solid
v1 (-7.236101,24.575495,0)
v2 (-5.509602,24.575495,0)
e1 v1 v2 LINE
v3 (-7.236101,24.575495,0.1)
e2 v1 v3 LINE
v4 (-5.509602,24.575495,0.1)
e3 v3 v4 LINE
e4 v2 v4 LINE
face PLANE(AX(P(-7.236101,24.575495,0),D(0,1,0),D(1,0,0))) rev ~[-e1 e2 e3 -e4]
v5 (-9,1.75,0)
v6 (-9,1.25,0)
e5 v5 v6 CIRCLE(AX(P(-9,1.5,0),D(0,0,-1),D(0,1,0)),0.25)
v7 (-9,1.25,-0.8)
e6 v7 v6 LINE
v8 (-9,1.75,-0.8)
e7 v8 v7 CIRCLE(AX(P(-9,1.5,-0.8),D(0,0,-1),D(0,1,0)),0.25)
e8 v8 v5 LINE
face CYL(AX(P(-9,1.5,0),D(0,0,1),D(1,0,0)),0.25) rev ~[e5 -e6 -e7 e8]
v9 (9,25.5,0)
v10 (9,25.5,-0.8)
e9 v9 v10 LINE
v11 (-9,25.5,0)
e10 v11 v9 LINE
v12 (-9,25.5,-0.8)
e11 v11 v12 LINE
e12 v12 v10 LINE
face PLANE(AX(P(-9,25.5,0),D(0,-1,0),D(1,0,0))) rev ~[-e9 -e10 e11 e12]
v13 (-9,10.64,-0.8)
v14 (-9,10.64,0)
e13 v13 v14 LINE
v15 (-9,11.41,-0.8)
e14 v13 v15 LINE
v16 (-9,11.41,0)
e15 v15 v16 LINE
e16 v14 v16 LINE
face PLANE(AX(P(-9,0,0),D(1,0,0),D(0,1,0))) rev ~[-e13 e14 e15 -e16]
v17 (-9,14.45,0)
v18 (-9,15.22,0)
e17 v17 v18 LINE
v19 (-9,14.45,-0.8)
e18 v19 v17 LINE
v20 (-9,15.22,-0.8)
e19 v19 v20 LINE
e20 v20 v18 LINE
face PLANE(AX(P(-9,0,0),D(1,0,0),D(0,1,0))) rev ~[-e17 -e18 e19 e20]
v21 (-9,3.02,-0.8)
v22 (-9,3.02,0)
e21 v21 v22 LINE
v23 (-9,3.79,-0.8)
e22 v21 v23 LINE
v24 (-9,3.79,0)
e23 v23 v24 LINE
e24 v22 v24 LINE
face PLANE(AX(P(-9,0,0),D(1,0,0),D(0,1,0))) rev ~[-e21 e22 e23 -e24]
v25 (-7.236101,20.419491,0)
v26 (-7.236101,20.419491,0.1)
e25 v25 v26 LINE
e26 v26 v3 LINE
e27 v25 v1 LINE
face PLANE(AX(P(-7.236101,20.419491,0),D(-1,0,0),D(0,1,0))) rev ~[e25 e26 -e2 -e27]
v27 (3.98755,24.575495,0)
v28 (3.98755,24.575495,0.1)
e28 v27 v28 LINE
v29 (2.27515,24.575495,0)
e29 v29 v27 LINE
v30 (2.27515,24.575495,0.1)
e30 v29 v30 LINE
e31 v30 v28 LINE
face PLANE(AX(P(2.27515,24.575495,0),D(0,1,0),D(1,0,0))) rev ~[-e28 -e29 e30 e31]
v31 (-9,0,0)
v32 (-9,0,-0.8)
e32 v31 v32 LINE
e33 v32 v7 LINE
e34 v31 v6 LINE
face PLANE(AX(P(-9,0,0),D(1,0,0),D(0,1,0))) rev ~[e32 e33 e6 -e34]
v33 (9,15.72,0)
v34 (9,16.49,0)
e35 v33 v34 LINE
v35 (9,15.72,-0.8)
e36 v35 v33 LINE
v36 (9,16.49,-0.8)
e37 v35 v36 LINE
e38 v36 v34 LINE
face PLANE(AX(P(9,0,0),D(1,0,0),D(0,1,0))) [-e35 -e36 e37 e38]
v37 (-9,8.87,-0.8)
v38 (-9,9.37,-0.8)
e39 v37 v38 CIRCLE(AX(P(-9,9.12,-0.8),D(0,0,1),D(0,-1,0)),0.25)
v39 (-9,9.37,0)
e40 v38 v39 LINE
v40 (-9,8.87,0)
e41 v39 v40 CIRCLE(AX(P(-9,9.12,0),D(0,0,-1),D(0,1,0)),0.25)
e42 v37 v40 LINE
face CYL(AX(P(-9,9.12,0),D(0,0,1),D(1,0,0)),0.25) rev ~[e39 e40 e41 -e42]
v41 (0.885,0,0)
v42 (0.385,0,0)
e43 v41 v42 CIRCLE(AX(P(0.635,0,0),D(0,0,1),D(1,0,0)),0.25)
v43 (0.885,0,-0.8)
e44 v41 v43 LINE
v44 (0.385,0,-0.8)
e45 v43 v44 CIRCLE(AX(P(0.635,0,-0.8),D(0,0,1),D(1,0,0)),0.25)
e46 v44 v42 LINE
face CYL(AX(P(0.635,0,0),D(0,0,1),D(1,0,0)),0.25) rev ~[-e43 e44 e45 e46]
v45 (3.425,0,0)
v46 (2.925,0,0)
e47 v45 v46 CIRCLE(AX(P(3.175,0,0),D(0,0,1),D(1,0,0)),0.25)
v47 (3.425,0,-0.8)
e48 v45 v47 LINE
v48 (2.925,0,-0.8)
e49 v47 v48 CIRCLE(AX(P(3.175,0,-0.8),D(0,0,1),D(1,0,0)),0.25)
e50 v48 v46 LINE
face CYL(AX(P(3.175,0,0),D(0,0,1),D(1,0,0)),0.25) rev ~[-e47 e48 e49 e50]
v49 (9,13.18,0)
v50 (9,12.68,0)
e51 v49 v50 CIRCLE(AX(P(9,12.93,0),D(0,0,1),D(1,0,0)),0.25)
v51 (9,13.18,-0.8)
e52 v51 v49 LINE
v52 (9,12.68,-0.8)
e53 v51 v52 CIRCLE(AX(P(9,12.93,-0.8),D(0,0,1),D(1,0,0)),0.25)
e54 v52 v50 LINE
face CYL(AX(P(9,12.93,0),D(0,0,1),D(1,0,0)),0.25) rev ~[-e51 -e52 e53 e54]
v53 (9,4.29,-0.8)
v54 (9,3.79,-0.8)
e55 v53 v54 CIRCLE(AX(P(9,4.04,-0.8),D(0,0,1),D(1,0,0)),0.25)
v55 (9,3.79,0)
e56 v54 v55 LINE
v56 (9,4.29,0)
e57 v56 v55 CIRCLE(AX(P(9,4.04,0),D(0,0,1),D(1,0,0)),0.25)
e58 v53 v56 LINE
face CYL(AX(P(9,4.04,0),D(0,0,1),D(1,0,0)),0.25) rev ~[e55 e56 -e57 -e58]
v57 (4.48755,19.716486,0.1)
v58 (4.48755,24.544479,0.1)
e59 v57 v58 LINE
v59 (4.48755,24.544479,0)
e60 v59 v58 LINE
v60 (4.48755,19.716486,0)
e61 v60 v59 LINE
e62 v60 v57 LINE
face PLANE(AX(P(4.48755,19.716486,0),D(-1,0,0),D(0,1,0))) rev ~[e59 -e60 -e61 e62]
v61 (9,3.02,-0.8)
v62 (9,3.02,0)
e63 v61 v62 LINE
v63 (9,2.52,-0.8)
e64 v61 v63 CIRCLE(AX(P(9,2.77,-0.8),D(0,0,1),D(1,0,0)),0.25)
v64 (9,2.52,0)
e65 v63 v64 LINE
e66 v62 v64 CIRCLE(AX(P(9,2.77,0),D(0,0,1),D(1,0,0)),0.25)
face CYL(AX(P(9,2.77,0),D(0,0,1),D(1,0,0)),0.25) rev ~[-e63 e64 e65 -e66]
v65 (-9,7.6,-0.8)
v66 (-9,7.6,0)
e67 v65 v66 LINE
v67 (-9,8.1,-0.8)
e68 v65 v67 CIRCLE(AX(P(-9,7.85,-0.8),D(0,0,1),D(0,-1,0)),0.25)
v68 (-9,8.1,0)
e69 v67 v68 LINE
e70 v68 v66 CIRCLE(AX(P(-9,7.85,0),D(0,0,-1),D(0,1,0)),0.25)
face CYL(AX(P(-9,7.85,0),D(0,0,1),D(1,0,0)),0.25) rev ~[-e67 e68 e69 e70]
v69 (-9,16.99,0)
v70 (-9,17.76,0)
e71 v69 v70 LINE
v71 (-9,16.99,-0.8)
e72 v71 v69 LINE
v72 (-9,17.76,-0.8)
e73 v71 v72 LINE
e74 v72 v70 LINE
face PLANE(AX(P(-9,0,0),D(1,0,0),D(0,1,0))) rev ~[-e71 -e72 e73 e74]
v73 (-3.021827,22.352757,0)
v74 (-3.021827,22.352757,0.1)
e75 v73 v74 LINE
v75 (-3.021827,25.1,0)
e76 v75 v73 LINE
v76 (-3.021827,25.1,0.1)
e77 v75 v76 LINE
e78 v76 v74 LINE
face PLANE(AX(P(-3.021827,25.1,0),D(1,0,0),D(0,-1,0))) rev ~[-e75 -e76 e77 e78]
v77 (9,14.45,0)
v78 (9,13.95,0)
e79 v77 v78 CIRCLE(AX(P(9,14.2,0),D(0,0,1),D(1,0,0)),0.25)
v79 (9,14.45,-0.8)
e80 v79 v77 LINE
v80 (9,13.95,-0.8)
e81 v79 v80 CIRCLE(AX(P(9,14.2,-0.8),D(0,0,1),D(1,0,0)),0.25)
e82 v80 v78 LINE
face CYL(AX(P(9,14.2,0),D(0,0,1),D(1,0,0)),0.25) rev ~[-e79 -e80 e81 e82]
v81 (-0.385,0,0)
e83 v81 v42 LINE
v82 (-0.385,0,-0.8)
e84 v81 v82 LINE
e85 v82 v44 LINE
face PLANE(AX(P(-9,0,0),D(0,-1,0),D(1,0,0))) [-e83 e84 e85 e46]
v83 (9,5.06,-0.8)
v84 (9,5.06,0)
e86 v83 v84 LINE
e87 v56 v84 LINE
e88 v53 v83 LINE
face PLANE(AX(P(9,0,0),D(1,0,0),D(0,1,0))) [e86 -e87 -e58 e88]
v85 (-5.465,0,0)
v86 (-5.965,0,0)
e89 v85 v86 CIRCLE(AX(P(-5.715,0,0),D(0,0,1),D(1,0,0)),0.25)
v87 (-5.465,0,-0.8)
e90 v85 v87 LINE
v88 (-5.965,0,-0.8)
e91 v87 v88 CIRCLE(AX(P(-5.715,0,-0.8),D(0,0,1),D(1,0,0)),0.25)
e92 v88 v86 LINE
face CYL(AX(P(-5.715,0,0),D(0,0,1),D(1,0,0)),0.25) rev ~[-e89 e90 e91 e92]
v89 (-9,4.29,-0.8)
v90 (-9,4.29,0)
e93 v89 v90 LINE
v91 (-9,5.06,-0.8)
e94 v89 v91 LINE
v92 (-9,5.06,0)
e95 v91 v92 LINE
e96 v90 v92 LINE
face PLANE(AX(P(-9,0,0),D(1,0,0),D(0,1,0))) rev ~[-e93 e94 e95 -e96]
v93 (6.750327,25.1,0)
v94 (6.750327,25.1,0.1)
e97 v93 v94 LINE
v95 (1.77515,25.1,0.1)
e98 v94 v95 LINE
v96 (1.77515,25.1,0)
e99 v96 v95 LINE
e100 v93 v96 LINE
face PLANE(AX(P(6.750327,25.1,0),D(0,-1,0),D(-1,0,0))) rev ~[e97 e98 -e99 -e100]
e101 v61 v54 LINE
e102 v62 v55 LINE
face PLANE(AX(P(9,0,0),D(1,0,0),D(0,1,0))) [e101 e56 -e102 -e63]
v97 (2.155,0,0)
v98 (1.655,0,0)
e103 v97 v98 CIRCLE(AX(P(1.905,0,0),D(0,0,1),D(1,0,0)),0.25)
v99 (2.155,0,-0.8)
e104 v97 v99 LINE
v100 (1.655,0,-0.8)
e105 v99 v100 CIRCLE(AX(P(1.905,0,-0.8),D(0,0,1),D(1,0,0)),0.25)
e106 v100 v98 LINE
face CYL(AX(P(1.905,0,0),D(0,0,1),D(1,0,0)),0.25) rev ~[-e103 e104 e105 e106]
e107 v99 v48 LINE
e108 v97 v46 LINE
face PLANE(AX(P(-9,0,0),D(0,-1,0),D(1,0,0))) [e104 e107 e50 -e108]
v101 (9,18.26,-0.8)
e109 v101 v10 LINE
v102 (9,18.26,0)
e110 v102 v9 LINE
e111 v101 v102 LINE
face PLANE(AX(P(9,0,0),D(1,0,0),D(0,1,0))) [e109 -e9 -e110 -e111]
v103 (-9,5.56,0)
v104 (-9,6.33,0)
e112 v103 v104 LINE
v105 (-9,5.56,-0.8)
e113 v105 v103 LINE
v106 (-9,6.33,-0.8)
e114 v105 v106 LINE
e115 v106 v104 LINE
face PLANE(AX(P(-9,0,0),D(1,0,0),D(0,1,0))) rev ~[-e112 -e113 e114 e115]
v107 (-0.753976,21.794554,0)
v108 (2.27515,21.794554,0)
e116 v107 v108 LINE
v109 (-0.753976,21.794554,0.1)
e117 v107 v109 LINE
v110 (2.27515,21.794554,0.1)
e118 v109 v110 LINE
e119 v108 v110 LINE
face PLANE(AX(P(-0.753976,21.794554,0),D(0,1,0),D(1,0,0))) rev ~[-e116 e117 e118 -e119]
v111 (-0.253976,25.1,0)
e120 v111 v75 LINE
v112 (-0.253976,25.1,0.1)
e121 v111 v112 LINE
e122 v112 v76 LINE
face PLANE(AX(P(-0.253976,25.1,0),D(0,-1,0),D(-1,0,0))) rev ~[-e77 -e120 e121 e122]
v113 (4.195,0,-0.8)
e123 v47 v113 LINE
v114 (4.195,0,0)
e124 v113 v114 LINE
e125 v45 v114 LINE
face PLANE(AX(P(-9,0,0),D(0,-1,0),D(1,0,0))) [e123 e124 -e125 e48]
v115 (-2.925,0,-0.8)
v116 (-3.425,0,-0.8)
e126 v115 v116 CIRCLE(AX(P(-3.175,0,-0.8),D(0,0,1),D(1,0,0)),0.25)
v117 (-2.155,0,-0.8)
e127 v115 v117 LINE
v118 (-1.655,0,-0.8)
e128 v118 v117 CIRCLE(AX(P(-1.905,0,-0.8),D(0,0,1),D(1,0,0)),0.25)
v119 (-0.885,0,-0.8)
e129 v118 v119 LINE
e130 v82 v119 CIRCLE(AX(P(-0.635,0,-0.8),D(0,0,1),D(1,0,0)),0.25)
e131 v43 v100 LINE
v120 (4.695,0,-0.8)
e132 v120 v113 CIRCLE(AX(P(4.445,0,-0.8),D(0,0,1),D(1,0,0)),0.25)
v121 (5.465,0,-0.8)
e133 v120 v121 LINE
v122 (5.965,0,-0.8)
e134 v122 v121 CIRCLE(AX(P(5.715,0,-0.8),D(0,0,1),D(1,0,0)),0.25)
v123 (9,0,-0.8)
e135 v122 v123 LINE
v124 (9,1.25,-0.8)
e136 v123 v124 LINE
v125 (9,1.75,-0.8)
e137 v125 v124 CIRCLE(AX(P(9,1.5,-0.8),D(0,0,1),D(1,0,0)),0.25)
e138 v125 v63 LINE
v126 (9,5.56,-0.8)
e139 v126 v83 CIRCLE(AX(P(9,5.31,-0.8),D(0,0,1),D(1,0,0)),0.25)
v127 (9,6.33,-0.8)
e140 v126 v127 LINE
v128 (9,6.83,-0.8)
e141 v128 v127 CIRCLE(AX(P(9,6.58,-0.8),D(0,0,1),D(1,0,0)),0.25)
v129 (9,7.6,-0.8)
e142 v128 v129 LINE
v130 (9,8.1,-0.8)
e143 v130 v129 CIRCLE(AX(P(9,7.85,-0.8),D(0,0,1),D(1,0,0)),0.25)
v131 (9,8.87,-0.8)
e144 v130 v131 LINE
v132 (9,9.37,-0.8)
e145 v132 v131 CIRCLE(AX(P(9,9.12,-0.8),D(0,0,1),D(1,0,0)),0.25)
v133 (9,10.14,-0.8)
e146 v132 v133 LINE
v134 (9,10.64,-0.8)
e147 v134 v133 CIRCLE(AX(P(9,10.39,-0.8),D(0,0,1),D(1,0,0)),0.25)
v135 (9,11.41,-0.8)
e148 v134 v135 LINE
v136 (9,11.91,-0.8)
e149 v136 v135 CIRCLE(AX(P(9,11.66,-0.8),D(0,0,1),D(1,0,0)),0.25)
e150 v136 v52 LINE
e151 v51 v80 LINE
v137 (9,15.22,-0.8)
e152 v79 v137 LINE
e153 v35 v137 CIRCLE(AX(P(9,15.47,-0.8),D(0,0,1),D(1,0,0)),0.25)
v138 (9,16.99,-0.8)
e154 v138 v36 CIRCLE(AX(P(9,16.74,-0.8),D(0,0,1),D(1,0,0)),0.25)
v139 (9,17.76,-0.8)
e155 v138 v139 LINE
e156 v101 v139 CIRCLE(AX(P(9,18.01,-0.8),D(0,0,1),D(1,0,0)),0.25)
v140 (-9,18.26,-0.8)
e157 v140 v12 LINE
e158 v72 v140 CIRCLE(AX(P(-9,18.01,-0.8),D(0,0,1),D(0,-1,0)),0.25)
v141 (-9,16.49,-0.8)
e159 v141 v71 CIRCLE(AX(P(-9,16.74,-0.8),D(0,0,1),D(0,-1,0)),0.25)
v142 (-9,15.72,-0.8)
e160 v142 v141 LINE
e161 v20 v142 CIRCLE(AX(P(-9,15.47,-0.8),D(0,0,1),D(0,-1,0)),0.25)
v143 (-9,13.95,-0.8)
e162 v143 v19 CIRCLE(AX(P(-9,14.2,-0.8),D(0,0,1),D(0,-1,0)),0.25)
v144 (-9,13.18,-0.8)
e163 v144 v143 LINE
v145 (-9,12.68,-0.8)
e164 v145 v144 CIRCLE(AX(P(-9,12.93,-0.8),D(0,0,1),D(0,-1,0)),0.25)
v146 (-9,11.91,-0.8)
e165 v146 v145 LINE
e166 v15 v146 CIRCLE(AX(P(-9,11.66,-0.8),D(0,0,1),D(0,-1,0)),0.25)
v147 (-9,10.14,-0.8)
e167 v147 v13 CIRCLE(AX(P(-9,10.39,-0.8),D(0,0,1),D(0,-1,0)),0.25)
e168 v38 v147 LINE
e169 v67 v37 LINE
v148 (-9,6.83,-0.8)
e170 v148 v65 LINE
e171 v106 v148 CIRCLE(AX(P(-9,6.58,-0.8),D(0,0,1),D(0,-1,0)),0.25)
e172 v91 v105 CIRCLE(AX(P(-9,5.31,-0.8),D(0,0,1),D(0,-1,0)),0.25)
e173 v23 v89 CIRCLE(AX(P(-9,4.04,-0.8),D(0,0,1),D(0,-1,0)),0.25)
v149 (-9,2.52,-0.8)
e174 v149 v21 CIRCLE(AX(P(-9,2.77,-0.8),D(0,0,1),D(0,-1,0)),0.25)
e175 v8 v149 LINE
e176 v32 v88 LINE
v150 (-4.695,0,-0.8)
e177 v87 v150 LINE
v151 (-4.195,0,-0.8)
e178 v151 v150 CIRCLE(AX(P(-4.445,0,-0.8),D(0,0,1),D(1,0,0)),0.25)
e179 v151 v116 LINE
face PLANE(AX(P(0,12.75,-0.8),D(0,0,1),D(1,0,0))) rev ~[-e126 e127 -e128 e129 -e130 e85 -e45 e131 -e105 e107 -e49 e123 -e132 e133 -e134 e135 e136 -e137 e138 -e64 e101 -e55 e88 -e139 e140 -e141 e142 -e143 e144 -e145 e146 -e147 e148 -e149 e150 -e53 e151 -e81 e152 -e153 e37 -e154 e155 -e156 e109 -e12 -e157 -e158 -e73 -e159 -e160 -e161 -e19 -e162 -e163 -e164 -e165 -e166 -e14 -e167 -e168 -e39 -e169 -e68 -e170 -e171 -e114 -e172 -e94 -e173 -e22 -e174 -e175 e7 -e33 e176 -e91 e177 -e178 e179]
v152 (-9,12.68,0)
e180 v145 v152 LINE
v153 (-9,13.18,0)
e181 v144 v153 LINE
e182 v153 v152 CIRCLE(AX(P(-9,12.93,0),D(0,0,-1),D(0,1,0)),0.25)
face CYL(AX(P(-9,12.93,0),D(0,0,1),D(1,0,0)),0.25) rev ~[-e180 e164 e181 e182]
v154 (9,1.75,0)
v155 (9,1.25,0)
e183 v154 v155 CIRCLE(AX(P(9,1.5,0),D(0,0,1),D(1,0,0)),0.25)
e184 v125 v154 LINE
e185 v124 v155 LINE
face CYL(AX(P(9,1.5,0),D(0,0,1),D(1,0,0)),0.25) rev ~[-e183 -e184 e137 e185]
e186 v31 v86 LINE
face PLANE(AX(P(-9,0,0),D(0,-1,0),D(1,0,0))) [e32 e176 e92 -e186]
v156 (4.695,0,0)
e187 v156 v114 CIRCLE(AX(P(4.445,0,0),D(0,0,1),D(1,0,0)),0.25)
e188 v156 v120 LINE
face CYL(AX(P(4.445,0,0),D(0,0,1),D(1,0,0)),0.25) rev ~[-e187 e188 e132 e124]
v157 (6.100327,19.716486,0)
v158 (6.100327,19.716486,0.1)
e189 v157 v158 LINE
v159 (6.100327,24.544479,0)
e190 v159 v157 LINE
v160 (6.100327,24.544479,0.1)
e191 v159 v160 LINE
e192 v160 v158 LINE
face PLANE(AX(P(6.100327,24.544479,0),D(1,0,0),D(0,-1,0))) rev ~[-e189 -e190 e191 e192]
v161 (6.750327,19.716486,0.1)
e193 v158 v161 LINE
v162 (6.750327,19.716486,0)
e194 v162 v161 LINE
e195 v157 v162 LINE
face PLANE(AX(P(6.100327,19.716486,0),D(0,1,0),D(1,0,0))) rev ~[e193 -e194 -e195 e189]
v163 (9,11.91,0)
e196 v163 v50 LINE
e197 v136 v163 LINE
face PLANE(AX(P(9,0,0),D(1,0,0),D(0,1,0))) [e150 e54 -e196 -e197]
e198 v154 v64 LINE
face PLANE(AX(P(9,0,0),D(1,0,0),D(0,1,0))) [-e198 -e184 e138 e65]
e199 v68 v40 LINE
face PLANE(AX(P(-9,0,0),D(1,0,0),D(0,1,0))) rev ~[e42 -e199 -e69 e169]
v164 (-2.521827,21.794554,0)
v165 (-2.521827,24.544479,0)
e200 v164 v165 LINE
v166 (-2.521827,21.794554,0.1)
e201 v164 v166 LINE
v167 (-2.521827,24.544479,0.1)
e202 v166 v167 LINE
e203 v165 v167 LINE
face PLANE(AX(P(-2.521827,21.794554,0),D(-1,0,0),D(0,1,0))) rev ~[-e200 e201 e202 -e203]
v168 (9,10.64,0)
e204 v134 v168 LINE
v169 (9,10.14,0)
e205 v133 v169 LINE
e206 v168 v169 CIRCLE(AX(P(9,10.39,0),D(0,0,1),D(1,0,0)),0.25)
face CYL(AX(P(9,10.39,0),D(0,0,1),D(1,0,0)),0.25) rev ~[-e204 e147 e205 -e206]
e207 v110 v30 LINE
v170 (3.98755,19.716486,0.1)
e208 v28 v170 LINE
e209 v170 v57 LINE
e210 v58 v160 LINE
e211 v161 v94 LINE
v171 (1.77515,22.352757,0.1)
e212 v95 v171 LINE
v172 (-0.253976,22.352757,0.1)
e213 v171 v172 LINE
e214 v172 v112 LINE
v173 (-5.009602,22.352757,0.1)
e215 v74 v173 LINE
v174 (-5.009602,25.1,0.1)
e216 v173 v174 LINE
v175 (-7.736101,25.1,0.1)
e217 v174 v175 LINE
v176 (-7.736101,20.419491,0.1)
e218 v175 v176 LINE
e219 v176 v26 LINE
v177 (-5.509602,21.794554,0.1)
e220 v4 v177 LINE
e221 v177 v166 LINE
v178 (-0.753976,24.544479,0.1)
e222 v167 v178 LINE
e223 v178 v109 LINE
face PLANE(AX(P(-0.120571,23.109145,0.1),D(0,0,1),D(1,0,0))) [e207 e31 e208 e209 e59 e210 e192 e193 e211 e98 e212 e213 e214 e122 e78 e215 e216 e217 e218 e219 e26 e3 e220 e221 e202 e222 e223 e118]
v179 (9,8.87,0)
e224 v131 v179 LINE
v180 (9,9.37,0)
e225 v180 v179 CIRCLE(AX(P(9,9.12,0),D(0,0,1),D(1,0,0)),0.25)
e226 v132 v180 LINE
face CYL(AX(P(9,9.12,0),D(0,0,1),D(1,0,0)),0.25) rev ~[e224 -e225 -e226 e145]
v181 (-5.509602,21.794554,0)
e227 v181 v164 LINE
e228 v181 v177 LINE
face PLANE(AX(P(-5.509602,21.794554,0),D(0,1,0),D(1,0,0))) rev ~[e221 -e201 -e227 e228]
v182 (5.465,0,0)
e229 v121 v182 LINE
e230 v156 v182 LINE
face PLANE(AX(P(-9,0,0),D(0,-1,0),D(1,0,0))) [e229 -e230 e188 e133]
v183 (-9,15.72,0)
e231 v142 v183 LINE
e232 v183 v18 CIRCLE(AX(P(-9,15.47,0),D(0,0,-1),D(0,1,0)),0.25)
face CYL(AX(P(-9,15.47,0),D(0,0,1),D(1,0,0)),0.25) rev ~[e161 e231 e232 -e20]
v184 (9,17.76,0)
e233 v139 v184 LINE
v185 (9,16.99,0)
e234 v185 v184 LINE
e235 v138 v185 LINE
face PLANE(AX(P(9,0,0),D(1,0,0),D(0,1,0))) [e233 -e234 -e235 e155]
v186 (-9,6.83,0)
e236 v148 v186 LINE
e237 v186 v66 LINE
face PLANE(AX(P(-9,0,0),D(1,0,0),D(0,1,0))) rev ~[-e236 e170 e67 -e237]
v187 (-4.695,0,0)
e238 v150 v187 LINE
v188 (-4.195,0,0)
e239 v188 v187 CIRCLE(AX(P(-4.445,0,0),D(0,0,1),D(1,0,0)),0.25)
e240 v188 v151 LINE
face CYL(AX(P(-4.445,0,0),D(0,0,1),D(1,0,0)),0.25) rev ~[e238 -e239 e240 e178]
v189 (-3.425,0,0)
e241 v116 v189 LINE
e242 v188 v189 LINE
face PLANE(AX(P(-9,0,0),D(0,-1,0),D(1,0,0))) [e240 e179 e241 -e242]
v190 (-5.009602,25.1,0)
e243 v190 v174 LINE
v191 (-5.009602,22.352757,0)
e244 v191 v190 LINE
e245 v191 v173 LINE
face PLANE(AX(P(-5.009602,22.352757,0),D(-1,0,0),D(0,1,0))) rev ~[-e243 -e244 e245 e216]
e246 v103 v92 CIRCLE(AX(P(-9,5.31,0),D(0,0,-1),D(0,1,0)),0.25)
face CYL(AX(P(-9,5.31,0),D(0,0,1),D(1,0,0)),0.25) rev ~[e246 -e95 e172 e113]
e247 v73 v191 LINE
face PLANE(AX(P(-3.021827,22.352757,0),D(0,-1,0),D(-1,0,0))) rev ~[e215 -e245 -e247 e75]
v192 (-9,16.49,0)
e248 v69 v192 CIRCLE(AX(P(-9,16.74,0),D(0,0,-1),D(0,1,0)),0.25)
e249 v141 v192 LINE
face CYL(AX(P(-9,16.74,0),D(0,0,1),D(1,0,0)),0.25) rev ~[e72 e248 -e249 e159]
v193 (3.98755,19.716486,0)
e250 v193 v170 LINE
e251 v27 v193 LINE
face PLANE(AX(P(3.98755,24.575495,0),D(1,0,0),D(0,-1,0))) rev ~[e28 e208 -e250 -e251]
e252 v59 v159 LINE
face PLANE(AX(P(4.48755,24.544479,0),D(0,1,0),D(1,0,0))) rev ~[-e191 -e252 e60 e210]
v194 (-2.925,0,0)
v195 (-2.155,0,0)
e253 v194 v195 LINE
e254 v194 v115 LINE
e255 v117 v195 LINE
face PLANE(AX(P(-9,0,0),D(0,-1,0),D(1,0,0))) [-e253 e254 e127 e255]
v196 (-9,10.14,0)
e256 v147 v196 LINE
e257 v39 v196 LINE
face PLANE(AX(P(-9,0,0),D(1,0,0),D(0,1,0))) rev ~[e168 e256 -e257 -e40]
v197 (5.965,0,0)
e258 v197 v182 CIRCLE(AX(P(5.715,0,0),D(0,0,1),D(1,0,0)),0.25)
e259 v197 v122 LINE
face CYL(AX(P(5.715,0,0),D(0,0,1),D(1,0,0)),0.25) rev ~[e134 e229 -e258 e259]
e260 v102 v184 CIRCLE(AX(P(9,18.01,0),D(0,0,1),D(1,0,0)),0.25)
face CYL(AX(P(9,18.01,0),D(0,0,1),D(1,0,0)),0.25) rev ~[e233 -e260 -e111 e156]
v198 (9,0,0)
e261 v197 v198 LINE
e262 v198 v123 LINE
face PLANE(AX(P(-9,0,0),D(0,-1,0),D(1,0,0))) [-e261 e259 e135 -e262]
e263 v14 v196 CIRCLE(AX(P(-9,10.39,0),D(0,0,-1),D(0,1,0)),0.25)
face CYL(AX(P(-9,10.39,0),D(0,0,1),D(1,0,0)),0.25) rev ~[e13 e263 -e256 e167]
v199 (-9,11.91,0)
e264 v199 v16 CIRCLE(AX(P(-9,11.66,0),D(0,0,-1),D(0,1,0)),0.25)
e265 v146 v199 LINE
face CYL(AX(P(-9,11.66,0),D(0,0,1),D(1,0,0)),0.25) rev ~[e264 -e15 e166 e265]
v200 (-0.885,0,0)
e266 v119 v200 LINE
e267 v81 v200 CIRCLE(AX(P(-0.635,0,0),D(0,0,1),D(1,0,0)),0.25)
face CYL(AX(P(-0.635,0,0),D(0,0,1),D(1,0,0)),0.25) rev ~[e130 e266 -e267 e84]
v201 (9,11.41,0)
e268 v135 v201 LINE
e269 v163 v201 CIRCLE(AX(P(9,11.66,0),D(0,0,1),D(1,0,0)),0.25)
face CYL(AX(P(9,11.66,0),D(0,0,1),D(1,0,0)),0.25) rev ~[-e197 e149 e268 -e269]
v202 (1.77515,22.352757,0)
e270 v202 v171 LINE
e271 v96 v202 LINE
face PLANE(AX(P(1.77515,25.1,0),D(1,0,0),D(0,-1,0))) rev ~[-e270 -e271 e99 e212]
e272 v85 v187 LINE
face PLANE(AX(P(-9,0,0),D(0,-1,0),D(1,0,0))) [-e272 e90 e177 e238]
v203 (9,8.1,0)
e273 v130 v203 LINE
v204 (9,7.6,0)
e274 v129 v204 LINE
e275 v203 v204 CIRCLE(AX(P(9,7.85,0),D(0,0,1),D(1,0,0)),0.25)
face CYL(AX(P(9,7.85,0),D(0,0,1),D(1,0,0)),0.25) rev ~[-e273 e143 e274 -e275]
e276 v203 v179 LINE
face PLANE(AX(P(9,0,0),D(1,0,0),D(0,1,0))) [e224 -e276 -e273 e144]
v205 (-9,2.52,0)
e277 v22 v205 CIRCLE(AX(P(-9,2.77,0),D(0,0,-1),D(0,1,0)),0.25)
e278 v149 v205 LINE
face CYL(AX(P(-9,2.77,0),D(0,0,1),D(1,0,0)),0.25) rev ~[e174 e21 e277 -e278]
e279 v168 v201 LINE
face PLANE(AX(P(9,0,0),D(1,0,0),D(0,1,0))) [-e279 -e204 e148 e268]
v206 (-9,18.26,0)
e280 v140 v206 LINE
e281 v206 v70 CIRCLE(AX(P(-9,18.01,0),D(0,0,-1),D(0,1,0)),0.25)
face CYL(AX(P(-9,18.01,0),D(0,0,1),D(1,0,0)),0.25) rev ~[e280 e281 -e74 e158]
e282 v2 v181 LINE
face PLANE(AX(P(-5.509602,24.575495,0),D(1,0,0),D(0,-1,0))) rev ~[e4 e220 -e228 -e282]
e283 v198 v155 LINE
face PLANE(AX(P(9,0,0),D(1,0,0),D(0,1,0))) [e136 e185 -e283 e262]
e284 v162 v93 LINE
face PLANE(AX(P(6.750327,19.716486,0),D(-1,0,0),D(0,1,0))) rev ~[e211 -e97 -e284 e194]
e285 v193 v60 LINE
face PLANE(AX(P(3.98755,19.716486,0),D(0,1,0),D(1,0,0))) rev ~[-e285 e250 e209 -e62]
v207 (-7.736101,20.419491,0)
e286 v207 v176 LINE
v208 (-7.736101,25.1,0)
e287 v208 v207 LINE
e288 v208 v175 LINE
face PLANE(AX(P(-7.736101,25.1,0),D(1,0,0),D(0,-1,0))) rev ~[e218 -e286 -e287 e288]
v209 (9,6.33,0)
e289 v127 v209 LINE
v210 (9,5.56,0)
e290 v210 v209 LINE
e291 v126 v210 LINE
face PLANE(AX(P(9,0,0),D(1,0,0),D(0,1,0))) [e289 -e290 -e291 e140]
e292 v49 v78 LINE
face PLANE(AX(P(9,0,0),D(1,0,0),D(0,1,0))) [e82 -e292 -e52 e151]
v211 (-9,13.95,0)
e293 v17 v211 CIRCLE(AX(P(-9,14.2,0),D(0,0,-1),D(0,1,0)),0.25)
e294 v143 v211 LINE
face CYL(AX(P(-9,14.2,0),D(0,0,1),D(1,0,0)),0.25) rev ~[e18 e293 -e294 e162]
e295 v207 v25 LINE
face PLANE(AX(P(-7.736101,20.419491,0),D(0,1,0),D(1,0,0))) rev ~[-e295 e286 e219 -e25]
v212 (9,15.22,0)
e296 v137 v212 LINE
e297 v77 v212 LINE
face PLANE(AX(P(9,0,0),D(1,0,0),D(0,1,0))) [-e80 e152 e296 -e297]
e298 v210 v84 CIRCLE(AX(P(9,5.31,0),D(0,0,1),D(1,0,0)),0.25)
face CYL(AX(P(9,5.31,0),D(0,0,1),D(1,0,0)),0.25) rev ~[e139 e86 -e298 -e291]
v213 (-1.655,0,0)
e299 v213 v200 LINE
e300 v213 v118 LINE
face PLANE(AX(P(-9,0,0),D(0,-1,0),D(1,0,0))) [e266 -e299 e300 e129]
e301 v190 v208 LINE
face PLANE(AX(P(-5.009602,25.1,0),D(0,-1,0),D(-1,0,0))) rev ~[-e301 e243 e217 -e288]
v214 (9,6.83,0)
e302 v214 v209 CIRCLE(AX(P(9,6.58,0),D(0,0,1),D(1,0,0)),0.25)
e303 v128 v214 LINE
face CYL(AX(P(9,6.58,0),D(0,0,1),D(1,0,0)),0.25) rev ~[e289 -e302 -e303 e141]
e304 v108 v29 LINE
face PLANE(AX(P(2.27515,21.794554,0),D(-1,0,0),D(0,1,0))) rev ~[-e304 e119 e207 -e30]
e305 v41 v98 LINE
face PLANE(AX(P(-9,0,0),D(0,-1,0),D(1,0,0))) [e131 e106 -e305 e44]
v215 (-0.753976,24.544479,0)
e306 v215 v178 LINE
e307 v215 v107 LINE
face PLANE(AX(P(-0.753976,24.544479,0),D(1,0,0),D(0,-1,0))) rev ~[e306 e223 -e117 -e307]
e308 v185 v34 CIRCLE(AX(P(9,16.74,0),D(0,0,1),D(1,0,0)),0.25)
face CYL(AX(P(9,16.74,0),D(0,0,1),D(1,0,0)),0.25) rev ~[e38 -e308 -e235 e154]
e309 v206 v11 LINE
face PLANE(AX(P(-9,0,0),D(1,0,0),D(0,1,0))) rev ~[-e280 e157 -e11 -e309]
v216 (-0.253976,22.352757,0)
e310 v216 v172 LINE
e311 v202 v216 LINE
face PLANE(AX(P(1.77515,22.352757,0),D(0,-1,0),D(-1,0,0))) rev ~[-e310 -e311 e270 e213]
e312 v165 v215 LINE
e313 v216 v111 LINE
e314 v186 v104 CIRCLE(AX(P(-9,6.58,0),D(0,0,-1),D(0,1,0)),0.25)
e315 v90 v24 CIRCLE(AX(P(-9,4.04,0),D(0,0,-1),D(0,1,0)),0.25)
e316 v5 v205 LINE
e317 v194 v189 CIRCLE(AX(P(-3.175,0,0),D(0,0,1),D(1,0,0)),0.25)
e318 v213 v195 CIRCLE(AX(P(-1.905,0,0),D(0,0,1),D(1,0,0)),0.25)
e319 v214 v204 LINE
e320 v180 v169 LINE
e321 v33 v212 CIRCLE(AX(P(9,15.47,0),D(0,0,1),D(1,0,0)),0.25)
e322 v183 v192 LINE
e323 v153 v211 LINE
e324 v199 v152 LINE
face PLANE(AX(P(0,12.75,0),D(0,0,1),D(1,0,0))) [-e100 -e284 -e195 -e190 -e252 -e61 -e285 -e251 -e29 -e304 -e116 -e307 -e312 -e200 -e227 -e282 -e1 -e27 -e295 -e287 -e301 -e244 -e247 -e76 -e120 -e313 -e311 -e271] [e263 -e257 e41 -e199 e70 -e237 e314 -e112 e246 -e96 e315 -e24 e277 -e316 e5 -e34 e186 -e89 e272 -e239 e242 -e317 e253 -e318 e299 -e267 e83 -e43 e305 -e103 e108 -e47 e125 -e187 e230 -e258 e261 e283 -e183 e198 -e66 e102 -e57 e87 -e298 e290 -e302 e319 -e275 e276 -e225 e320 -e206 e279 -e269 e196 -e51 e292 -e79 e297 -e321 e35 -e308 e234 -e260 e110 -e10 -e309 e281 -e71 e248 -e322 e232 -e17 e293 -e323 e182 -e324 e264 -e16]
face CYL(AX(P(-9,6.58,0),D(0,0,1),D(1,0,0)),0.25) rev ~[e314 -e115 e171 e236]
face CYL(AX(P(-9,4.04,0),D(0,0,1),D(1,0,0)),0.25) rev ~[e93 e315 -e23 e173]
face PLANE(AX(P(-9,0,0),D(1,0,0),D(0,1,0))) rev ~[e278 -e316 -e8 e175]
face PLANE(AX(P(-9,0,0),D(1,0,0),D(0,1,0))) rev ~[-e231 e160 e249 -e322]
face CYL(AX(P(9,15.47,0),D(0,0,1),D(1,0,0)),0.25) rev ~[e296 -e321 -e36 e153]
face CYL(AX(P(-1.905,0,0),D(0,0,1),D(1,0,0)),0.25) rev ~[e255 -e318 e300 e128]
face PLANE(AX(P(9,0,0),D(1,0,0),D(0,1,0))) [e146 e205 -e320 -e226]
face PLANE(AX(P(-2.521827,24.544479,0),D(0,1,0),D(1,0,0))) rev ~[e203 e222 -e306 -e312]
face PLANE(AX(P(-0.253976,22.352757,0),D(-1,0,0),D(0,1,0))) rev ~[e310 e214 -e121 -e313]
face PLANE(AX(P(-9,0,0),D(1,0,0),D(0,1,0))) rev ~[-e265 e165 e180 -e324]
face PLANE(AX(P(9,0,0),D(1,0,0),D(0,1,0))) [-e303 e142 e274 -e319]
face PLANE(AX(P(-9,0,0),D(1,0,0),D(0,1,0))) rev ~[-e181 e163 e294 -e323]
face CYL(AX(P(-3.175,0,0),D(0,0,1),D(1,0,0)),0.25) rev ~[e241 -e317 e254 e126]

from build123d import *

# Parameters (mm, degrees)
SKETCH_W     = 18
SKETCH_H     = 25.5
PAD_DEPTH    = 0.8
SKETCH001_R  = 0.25
POCKET_DEPTH = 5
PAD001_DEPTH = 0.1


with BuildPart() as part:
    # Sketch → Pad (new body)
    with BuildSketch(Plane.XY):
        with Locations((0, 12.75)):
            Rectangle(SKETCH_W, SKETCH_H)
    extrude(amount=-PAD_DEPTH)

    # Sketch001 → Pocket (cut)
    with BuildSketch(Plane.XY):
        with Locations((-5.715, 0)):
            Circle(SKETCH001_R)
        with Locations((-4.445, 0)):
            Circle(SKETCH001_R)
        with Locations((-3.175, 0)):
            Circle(SKETCH001_R)
        with Locations((-1.905, 0)):
            Circle(SKETCH001_R)
        with Locations((-0.635, 0)):
            Circle(SKETCH001_R)
        with Locations((0.635, 0)):
            Circle(SKETCH001_R)
        with Locations((1.905, 0)):
            Circle(SKETCH001_R)
        with Locations((3.175, 0)):
            Circle(SKETCH001_R)
        with Locations((4.445, 0)):
            Circle(SKETCH001_R)
        with Locations((5.715, 0)):
            Circle(SKETCH001_R)
        with Locations((-9, 1.5)):
            Circle(SKETCH001_R)
        with Locations((-9, 2.77)):
            Circle(SKETCH001_R)
        with Locations((-9, 4.04)):
            Circle(SKETCH001_R)
        with Locations((-9, 5.31)):
            Circle(SKETCH001_R)
        with Locations((-9, 6.58)):
            Circle(SKETCH001_R)
        with Locations((-9, 7.85)):
            Circle(SKETCH001_R)
        with Locations((-9, 9.12)):
            Circle(SKETCH001_R)
        with Locations((-9, 10.39)):
            Circle(SKETCH001_R)
        with Locations((-9, 11.66)):
            Circle(SKETCH001_R)
        with Locations((-9, 12.93)):
            Circle(SKETCH001_R)
        with Locations((-9, 14.2)):
            Circle(SKETCH001_R)
        with Locations((-9, 15.47)):
            Circle(SKETCH001_R)
        with Locations((-9, 16.74)):
            Circle(SKETCH001_R)
        with Locations((-9, 18.01)):
            Circle(SKETCH001_R)
        with Locations((9, 1.5)):
            Circle(SKETCH001_R)
        with Locations((9, 2.77)):
            Circle(SKETCH001_R)
        with Locations((9, 4.04)):
            Circle(SKETCH001_R)
        with Locations((9, 5.31)):
            Circle(SKETCH001_R)
        with Locations((9, 6.58)):
            Circle(SKETCH001_R)
        with Locations((9, 7.85)):
            Circle(SKETCH001_R)
        with Locations((9, 9.12)):
            Circle(SKETCH001_R)
        with Locations((9, 10.39)):
            Circle(SKETCH001_R)
        with Locations((9, 11.66)):
            Circle(SKETCH001_R)
        with Locations((9, 12.93)):
            Circle(SKETCH001_R)
        with Locations((9, 14.2)):
            Circle(SKETCH001_R)
        with Locations((9, 15.47)):
            Circle(SKETCH001_R)
        with Locations((9, 16.74)):
            Circle(SKETCH001_R)
        with Locations((9, 18.01)):
            Circle(SKETCH001_R)
    extrude(amount=-POCKET_DEPTH, mode=Mode.SUBTRACT)

    # Sketch002 → Pad001 (join)
    with BuildSketch(Plane.XY):
        Polygon((6.750327, 19.716486), (6.750327, 25.1), (1.77515, 25.1), (1.77515, 22.352757), (-0.253976, 22.352757), (-0.253976, 25.1), (-3.021827, 25.1), (-3.021827, 22.352757), (-5.009602, 22.352757), (-5.009602, 25.1), (-7.736101, 25.1), (-7.736101, 20.419491), (-7.236101, 20.419491), (-7.236101, 24.575495), (-5.509602, 24.575495), (-5.509602, 21.794554), (-2.521827, 21.794554), (-2.521827, 24.544479), (-0.753976, 24.544479), (-0.753976, 21.794554), (2.27515, 21.794554), (2.27515, 24.575495), (3.98755, 24.575495), (3.98755, 19.716486), (4.48755, 19.716486), (4.48755, 24.544479), (6.100327, 24.544479), (6.100327, 19.716486), align=None)
    extrude(amount=PAD001_DEPTH)


solid = part.part
